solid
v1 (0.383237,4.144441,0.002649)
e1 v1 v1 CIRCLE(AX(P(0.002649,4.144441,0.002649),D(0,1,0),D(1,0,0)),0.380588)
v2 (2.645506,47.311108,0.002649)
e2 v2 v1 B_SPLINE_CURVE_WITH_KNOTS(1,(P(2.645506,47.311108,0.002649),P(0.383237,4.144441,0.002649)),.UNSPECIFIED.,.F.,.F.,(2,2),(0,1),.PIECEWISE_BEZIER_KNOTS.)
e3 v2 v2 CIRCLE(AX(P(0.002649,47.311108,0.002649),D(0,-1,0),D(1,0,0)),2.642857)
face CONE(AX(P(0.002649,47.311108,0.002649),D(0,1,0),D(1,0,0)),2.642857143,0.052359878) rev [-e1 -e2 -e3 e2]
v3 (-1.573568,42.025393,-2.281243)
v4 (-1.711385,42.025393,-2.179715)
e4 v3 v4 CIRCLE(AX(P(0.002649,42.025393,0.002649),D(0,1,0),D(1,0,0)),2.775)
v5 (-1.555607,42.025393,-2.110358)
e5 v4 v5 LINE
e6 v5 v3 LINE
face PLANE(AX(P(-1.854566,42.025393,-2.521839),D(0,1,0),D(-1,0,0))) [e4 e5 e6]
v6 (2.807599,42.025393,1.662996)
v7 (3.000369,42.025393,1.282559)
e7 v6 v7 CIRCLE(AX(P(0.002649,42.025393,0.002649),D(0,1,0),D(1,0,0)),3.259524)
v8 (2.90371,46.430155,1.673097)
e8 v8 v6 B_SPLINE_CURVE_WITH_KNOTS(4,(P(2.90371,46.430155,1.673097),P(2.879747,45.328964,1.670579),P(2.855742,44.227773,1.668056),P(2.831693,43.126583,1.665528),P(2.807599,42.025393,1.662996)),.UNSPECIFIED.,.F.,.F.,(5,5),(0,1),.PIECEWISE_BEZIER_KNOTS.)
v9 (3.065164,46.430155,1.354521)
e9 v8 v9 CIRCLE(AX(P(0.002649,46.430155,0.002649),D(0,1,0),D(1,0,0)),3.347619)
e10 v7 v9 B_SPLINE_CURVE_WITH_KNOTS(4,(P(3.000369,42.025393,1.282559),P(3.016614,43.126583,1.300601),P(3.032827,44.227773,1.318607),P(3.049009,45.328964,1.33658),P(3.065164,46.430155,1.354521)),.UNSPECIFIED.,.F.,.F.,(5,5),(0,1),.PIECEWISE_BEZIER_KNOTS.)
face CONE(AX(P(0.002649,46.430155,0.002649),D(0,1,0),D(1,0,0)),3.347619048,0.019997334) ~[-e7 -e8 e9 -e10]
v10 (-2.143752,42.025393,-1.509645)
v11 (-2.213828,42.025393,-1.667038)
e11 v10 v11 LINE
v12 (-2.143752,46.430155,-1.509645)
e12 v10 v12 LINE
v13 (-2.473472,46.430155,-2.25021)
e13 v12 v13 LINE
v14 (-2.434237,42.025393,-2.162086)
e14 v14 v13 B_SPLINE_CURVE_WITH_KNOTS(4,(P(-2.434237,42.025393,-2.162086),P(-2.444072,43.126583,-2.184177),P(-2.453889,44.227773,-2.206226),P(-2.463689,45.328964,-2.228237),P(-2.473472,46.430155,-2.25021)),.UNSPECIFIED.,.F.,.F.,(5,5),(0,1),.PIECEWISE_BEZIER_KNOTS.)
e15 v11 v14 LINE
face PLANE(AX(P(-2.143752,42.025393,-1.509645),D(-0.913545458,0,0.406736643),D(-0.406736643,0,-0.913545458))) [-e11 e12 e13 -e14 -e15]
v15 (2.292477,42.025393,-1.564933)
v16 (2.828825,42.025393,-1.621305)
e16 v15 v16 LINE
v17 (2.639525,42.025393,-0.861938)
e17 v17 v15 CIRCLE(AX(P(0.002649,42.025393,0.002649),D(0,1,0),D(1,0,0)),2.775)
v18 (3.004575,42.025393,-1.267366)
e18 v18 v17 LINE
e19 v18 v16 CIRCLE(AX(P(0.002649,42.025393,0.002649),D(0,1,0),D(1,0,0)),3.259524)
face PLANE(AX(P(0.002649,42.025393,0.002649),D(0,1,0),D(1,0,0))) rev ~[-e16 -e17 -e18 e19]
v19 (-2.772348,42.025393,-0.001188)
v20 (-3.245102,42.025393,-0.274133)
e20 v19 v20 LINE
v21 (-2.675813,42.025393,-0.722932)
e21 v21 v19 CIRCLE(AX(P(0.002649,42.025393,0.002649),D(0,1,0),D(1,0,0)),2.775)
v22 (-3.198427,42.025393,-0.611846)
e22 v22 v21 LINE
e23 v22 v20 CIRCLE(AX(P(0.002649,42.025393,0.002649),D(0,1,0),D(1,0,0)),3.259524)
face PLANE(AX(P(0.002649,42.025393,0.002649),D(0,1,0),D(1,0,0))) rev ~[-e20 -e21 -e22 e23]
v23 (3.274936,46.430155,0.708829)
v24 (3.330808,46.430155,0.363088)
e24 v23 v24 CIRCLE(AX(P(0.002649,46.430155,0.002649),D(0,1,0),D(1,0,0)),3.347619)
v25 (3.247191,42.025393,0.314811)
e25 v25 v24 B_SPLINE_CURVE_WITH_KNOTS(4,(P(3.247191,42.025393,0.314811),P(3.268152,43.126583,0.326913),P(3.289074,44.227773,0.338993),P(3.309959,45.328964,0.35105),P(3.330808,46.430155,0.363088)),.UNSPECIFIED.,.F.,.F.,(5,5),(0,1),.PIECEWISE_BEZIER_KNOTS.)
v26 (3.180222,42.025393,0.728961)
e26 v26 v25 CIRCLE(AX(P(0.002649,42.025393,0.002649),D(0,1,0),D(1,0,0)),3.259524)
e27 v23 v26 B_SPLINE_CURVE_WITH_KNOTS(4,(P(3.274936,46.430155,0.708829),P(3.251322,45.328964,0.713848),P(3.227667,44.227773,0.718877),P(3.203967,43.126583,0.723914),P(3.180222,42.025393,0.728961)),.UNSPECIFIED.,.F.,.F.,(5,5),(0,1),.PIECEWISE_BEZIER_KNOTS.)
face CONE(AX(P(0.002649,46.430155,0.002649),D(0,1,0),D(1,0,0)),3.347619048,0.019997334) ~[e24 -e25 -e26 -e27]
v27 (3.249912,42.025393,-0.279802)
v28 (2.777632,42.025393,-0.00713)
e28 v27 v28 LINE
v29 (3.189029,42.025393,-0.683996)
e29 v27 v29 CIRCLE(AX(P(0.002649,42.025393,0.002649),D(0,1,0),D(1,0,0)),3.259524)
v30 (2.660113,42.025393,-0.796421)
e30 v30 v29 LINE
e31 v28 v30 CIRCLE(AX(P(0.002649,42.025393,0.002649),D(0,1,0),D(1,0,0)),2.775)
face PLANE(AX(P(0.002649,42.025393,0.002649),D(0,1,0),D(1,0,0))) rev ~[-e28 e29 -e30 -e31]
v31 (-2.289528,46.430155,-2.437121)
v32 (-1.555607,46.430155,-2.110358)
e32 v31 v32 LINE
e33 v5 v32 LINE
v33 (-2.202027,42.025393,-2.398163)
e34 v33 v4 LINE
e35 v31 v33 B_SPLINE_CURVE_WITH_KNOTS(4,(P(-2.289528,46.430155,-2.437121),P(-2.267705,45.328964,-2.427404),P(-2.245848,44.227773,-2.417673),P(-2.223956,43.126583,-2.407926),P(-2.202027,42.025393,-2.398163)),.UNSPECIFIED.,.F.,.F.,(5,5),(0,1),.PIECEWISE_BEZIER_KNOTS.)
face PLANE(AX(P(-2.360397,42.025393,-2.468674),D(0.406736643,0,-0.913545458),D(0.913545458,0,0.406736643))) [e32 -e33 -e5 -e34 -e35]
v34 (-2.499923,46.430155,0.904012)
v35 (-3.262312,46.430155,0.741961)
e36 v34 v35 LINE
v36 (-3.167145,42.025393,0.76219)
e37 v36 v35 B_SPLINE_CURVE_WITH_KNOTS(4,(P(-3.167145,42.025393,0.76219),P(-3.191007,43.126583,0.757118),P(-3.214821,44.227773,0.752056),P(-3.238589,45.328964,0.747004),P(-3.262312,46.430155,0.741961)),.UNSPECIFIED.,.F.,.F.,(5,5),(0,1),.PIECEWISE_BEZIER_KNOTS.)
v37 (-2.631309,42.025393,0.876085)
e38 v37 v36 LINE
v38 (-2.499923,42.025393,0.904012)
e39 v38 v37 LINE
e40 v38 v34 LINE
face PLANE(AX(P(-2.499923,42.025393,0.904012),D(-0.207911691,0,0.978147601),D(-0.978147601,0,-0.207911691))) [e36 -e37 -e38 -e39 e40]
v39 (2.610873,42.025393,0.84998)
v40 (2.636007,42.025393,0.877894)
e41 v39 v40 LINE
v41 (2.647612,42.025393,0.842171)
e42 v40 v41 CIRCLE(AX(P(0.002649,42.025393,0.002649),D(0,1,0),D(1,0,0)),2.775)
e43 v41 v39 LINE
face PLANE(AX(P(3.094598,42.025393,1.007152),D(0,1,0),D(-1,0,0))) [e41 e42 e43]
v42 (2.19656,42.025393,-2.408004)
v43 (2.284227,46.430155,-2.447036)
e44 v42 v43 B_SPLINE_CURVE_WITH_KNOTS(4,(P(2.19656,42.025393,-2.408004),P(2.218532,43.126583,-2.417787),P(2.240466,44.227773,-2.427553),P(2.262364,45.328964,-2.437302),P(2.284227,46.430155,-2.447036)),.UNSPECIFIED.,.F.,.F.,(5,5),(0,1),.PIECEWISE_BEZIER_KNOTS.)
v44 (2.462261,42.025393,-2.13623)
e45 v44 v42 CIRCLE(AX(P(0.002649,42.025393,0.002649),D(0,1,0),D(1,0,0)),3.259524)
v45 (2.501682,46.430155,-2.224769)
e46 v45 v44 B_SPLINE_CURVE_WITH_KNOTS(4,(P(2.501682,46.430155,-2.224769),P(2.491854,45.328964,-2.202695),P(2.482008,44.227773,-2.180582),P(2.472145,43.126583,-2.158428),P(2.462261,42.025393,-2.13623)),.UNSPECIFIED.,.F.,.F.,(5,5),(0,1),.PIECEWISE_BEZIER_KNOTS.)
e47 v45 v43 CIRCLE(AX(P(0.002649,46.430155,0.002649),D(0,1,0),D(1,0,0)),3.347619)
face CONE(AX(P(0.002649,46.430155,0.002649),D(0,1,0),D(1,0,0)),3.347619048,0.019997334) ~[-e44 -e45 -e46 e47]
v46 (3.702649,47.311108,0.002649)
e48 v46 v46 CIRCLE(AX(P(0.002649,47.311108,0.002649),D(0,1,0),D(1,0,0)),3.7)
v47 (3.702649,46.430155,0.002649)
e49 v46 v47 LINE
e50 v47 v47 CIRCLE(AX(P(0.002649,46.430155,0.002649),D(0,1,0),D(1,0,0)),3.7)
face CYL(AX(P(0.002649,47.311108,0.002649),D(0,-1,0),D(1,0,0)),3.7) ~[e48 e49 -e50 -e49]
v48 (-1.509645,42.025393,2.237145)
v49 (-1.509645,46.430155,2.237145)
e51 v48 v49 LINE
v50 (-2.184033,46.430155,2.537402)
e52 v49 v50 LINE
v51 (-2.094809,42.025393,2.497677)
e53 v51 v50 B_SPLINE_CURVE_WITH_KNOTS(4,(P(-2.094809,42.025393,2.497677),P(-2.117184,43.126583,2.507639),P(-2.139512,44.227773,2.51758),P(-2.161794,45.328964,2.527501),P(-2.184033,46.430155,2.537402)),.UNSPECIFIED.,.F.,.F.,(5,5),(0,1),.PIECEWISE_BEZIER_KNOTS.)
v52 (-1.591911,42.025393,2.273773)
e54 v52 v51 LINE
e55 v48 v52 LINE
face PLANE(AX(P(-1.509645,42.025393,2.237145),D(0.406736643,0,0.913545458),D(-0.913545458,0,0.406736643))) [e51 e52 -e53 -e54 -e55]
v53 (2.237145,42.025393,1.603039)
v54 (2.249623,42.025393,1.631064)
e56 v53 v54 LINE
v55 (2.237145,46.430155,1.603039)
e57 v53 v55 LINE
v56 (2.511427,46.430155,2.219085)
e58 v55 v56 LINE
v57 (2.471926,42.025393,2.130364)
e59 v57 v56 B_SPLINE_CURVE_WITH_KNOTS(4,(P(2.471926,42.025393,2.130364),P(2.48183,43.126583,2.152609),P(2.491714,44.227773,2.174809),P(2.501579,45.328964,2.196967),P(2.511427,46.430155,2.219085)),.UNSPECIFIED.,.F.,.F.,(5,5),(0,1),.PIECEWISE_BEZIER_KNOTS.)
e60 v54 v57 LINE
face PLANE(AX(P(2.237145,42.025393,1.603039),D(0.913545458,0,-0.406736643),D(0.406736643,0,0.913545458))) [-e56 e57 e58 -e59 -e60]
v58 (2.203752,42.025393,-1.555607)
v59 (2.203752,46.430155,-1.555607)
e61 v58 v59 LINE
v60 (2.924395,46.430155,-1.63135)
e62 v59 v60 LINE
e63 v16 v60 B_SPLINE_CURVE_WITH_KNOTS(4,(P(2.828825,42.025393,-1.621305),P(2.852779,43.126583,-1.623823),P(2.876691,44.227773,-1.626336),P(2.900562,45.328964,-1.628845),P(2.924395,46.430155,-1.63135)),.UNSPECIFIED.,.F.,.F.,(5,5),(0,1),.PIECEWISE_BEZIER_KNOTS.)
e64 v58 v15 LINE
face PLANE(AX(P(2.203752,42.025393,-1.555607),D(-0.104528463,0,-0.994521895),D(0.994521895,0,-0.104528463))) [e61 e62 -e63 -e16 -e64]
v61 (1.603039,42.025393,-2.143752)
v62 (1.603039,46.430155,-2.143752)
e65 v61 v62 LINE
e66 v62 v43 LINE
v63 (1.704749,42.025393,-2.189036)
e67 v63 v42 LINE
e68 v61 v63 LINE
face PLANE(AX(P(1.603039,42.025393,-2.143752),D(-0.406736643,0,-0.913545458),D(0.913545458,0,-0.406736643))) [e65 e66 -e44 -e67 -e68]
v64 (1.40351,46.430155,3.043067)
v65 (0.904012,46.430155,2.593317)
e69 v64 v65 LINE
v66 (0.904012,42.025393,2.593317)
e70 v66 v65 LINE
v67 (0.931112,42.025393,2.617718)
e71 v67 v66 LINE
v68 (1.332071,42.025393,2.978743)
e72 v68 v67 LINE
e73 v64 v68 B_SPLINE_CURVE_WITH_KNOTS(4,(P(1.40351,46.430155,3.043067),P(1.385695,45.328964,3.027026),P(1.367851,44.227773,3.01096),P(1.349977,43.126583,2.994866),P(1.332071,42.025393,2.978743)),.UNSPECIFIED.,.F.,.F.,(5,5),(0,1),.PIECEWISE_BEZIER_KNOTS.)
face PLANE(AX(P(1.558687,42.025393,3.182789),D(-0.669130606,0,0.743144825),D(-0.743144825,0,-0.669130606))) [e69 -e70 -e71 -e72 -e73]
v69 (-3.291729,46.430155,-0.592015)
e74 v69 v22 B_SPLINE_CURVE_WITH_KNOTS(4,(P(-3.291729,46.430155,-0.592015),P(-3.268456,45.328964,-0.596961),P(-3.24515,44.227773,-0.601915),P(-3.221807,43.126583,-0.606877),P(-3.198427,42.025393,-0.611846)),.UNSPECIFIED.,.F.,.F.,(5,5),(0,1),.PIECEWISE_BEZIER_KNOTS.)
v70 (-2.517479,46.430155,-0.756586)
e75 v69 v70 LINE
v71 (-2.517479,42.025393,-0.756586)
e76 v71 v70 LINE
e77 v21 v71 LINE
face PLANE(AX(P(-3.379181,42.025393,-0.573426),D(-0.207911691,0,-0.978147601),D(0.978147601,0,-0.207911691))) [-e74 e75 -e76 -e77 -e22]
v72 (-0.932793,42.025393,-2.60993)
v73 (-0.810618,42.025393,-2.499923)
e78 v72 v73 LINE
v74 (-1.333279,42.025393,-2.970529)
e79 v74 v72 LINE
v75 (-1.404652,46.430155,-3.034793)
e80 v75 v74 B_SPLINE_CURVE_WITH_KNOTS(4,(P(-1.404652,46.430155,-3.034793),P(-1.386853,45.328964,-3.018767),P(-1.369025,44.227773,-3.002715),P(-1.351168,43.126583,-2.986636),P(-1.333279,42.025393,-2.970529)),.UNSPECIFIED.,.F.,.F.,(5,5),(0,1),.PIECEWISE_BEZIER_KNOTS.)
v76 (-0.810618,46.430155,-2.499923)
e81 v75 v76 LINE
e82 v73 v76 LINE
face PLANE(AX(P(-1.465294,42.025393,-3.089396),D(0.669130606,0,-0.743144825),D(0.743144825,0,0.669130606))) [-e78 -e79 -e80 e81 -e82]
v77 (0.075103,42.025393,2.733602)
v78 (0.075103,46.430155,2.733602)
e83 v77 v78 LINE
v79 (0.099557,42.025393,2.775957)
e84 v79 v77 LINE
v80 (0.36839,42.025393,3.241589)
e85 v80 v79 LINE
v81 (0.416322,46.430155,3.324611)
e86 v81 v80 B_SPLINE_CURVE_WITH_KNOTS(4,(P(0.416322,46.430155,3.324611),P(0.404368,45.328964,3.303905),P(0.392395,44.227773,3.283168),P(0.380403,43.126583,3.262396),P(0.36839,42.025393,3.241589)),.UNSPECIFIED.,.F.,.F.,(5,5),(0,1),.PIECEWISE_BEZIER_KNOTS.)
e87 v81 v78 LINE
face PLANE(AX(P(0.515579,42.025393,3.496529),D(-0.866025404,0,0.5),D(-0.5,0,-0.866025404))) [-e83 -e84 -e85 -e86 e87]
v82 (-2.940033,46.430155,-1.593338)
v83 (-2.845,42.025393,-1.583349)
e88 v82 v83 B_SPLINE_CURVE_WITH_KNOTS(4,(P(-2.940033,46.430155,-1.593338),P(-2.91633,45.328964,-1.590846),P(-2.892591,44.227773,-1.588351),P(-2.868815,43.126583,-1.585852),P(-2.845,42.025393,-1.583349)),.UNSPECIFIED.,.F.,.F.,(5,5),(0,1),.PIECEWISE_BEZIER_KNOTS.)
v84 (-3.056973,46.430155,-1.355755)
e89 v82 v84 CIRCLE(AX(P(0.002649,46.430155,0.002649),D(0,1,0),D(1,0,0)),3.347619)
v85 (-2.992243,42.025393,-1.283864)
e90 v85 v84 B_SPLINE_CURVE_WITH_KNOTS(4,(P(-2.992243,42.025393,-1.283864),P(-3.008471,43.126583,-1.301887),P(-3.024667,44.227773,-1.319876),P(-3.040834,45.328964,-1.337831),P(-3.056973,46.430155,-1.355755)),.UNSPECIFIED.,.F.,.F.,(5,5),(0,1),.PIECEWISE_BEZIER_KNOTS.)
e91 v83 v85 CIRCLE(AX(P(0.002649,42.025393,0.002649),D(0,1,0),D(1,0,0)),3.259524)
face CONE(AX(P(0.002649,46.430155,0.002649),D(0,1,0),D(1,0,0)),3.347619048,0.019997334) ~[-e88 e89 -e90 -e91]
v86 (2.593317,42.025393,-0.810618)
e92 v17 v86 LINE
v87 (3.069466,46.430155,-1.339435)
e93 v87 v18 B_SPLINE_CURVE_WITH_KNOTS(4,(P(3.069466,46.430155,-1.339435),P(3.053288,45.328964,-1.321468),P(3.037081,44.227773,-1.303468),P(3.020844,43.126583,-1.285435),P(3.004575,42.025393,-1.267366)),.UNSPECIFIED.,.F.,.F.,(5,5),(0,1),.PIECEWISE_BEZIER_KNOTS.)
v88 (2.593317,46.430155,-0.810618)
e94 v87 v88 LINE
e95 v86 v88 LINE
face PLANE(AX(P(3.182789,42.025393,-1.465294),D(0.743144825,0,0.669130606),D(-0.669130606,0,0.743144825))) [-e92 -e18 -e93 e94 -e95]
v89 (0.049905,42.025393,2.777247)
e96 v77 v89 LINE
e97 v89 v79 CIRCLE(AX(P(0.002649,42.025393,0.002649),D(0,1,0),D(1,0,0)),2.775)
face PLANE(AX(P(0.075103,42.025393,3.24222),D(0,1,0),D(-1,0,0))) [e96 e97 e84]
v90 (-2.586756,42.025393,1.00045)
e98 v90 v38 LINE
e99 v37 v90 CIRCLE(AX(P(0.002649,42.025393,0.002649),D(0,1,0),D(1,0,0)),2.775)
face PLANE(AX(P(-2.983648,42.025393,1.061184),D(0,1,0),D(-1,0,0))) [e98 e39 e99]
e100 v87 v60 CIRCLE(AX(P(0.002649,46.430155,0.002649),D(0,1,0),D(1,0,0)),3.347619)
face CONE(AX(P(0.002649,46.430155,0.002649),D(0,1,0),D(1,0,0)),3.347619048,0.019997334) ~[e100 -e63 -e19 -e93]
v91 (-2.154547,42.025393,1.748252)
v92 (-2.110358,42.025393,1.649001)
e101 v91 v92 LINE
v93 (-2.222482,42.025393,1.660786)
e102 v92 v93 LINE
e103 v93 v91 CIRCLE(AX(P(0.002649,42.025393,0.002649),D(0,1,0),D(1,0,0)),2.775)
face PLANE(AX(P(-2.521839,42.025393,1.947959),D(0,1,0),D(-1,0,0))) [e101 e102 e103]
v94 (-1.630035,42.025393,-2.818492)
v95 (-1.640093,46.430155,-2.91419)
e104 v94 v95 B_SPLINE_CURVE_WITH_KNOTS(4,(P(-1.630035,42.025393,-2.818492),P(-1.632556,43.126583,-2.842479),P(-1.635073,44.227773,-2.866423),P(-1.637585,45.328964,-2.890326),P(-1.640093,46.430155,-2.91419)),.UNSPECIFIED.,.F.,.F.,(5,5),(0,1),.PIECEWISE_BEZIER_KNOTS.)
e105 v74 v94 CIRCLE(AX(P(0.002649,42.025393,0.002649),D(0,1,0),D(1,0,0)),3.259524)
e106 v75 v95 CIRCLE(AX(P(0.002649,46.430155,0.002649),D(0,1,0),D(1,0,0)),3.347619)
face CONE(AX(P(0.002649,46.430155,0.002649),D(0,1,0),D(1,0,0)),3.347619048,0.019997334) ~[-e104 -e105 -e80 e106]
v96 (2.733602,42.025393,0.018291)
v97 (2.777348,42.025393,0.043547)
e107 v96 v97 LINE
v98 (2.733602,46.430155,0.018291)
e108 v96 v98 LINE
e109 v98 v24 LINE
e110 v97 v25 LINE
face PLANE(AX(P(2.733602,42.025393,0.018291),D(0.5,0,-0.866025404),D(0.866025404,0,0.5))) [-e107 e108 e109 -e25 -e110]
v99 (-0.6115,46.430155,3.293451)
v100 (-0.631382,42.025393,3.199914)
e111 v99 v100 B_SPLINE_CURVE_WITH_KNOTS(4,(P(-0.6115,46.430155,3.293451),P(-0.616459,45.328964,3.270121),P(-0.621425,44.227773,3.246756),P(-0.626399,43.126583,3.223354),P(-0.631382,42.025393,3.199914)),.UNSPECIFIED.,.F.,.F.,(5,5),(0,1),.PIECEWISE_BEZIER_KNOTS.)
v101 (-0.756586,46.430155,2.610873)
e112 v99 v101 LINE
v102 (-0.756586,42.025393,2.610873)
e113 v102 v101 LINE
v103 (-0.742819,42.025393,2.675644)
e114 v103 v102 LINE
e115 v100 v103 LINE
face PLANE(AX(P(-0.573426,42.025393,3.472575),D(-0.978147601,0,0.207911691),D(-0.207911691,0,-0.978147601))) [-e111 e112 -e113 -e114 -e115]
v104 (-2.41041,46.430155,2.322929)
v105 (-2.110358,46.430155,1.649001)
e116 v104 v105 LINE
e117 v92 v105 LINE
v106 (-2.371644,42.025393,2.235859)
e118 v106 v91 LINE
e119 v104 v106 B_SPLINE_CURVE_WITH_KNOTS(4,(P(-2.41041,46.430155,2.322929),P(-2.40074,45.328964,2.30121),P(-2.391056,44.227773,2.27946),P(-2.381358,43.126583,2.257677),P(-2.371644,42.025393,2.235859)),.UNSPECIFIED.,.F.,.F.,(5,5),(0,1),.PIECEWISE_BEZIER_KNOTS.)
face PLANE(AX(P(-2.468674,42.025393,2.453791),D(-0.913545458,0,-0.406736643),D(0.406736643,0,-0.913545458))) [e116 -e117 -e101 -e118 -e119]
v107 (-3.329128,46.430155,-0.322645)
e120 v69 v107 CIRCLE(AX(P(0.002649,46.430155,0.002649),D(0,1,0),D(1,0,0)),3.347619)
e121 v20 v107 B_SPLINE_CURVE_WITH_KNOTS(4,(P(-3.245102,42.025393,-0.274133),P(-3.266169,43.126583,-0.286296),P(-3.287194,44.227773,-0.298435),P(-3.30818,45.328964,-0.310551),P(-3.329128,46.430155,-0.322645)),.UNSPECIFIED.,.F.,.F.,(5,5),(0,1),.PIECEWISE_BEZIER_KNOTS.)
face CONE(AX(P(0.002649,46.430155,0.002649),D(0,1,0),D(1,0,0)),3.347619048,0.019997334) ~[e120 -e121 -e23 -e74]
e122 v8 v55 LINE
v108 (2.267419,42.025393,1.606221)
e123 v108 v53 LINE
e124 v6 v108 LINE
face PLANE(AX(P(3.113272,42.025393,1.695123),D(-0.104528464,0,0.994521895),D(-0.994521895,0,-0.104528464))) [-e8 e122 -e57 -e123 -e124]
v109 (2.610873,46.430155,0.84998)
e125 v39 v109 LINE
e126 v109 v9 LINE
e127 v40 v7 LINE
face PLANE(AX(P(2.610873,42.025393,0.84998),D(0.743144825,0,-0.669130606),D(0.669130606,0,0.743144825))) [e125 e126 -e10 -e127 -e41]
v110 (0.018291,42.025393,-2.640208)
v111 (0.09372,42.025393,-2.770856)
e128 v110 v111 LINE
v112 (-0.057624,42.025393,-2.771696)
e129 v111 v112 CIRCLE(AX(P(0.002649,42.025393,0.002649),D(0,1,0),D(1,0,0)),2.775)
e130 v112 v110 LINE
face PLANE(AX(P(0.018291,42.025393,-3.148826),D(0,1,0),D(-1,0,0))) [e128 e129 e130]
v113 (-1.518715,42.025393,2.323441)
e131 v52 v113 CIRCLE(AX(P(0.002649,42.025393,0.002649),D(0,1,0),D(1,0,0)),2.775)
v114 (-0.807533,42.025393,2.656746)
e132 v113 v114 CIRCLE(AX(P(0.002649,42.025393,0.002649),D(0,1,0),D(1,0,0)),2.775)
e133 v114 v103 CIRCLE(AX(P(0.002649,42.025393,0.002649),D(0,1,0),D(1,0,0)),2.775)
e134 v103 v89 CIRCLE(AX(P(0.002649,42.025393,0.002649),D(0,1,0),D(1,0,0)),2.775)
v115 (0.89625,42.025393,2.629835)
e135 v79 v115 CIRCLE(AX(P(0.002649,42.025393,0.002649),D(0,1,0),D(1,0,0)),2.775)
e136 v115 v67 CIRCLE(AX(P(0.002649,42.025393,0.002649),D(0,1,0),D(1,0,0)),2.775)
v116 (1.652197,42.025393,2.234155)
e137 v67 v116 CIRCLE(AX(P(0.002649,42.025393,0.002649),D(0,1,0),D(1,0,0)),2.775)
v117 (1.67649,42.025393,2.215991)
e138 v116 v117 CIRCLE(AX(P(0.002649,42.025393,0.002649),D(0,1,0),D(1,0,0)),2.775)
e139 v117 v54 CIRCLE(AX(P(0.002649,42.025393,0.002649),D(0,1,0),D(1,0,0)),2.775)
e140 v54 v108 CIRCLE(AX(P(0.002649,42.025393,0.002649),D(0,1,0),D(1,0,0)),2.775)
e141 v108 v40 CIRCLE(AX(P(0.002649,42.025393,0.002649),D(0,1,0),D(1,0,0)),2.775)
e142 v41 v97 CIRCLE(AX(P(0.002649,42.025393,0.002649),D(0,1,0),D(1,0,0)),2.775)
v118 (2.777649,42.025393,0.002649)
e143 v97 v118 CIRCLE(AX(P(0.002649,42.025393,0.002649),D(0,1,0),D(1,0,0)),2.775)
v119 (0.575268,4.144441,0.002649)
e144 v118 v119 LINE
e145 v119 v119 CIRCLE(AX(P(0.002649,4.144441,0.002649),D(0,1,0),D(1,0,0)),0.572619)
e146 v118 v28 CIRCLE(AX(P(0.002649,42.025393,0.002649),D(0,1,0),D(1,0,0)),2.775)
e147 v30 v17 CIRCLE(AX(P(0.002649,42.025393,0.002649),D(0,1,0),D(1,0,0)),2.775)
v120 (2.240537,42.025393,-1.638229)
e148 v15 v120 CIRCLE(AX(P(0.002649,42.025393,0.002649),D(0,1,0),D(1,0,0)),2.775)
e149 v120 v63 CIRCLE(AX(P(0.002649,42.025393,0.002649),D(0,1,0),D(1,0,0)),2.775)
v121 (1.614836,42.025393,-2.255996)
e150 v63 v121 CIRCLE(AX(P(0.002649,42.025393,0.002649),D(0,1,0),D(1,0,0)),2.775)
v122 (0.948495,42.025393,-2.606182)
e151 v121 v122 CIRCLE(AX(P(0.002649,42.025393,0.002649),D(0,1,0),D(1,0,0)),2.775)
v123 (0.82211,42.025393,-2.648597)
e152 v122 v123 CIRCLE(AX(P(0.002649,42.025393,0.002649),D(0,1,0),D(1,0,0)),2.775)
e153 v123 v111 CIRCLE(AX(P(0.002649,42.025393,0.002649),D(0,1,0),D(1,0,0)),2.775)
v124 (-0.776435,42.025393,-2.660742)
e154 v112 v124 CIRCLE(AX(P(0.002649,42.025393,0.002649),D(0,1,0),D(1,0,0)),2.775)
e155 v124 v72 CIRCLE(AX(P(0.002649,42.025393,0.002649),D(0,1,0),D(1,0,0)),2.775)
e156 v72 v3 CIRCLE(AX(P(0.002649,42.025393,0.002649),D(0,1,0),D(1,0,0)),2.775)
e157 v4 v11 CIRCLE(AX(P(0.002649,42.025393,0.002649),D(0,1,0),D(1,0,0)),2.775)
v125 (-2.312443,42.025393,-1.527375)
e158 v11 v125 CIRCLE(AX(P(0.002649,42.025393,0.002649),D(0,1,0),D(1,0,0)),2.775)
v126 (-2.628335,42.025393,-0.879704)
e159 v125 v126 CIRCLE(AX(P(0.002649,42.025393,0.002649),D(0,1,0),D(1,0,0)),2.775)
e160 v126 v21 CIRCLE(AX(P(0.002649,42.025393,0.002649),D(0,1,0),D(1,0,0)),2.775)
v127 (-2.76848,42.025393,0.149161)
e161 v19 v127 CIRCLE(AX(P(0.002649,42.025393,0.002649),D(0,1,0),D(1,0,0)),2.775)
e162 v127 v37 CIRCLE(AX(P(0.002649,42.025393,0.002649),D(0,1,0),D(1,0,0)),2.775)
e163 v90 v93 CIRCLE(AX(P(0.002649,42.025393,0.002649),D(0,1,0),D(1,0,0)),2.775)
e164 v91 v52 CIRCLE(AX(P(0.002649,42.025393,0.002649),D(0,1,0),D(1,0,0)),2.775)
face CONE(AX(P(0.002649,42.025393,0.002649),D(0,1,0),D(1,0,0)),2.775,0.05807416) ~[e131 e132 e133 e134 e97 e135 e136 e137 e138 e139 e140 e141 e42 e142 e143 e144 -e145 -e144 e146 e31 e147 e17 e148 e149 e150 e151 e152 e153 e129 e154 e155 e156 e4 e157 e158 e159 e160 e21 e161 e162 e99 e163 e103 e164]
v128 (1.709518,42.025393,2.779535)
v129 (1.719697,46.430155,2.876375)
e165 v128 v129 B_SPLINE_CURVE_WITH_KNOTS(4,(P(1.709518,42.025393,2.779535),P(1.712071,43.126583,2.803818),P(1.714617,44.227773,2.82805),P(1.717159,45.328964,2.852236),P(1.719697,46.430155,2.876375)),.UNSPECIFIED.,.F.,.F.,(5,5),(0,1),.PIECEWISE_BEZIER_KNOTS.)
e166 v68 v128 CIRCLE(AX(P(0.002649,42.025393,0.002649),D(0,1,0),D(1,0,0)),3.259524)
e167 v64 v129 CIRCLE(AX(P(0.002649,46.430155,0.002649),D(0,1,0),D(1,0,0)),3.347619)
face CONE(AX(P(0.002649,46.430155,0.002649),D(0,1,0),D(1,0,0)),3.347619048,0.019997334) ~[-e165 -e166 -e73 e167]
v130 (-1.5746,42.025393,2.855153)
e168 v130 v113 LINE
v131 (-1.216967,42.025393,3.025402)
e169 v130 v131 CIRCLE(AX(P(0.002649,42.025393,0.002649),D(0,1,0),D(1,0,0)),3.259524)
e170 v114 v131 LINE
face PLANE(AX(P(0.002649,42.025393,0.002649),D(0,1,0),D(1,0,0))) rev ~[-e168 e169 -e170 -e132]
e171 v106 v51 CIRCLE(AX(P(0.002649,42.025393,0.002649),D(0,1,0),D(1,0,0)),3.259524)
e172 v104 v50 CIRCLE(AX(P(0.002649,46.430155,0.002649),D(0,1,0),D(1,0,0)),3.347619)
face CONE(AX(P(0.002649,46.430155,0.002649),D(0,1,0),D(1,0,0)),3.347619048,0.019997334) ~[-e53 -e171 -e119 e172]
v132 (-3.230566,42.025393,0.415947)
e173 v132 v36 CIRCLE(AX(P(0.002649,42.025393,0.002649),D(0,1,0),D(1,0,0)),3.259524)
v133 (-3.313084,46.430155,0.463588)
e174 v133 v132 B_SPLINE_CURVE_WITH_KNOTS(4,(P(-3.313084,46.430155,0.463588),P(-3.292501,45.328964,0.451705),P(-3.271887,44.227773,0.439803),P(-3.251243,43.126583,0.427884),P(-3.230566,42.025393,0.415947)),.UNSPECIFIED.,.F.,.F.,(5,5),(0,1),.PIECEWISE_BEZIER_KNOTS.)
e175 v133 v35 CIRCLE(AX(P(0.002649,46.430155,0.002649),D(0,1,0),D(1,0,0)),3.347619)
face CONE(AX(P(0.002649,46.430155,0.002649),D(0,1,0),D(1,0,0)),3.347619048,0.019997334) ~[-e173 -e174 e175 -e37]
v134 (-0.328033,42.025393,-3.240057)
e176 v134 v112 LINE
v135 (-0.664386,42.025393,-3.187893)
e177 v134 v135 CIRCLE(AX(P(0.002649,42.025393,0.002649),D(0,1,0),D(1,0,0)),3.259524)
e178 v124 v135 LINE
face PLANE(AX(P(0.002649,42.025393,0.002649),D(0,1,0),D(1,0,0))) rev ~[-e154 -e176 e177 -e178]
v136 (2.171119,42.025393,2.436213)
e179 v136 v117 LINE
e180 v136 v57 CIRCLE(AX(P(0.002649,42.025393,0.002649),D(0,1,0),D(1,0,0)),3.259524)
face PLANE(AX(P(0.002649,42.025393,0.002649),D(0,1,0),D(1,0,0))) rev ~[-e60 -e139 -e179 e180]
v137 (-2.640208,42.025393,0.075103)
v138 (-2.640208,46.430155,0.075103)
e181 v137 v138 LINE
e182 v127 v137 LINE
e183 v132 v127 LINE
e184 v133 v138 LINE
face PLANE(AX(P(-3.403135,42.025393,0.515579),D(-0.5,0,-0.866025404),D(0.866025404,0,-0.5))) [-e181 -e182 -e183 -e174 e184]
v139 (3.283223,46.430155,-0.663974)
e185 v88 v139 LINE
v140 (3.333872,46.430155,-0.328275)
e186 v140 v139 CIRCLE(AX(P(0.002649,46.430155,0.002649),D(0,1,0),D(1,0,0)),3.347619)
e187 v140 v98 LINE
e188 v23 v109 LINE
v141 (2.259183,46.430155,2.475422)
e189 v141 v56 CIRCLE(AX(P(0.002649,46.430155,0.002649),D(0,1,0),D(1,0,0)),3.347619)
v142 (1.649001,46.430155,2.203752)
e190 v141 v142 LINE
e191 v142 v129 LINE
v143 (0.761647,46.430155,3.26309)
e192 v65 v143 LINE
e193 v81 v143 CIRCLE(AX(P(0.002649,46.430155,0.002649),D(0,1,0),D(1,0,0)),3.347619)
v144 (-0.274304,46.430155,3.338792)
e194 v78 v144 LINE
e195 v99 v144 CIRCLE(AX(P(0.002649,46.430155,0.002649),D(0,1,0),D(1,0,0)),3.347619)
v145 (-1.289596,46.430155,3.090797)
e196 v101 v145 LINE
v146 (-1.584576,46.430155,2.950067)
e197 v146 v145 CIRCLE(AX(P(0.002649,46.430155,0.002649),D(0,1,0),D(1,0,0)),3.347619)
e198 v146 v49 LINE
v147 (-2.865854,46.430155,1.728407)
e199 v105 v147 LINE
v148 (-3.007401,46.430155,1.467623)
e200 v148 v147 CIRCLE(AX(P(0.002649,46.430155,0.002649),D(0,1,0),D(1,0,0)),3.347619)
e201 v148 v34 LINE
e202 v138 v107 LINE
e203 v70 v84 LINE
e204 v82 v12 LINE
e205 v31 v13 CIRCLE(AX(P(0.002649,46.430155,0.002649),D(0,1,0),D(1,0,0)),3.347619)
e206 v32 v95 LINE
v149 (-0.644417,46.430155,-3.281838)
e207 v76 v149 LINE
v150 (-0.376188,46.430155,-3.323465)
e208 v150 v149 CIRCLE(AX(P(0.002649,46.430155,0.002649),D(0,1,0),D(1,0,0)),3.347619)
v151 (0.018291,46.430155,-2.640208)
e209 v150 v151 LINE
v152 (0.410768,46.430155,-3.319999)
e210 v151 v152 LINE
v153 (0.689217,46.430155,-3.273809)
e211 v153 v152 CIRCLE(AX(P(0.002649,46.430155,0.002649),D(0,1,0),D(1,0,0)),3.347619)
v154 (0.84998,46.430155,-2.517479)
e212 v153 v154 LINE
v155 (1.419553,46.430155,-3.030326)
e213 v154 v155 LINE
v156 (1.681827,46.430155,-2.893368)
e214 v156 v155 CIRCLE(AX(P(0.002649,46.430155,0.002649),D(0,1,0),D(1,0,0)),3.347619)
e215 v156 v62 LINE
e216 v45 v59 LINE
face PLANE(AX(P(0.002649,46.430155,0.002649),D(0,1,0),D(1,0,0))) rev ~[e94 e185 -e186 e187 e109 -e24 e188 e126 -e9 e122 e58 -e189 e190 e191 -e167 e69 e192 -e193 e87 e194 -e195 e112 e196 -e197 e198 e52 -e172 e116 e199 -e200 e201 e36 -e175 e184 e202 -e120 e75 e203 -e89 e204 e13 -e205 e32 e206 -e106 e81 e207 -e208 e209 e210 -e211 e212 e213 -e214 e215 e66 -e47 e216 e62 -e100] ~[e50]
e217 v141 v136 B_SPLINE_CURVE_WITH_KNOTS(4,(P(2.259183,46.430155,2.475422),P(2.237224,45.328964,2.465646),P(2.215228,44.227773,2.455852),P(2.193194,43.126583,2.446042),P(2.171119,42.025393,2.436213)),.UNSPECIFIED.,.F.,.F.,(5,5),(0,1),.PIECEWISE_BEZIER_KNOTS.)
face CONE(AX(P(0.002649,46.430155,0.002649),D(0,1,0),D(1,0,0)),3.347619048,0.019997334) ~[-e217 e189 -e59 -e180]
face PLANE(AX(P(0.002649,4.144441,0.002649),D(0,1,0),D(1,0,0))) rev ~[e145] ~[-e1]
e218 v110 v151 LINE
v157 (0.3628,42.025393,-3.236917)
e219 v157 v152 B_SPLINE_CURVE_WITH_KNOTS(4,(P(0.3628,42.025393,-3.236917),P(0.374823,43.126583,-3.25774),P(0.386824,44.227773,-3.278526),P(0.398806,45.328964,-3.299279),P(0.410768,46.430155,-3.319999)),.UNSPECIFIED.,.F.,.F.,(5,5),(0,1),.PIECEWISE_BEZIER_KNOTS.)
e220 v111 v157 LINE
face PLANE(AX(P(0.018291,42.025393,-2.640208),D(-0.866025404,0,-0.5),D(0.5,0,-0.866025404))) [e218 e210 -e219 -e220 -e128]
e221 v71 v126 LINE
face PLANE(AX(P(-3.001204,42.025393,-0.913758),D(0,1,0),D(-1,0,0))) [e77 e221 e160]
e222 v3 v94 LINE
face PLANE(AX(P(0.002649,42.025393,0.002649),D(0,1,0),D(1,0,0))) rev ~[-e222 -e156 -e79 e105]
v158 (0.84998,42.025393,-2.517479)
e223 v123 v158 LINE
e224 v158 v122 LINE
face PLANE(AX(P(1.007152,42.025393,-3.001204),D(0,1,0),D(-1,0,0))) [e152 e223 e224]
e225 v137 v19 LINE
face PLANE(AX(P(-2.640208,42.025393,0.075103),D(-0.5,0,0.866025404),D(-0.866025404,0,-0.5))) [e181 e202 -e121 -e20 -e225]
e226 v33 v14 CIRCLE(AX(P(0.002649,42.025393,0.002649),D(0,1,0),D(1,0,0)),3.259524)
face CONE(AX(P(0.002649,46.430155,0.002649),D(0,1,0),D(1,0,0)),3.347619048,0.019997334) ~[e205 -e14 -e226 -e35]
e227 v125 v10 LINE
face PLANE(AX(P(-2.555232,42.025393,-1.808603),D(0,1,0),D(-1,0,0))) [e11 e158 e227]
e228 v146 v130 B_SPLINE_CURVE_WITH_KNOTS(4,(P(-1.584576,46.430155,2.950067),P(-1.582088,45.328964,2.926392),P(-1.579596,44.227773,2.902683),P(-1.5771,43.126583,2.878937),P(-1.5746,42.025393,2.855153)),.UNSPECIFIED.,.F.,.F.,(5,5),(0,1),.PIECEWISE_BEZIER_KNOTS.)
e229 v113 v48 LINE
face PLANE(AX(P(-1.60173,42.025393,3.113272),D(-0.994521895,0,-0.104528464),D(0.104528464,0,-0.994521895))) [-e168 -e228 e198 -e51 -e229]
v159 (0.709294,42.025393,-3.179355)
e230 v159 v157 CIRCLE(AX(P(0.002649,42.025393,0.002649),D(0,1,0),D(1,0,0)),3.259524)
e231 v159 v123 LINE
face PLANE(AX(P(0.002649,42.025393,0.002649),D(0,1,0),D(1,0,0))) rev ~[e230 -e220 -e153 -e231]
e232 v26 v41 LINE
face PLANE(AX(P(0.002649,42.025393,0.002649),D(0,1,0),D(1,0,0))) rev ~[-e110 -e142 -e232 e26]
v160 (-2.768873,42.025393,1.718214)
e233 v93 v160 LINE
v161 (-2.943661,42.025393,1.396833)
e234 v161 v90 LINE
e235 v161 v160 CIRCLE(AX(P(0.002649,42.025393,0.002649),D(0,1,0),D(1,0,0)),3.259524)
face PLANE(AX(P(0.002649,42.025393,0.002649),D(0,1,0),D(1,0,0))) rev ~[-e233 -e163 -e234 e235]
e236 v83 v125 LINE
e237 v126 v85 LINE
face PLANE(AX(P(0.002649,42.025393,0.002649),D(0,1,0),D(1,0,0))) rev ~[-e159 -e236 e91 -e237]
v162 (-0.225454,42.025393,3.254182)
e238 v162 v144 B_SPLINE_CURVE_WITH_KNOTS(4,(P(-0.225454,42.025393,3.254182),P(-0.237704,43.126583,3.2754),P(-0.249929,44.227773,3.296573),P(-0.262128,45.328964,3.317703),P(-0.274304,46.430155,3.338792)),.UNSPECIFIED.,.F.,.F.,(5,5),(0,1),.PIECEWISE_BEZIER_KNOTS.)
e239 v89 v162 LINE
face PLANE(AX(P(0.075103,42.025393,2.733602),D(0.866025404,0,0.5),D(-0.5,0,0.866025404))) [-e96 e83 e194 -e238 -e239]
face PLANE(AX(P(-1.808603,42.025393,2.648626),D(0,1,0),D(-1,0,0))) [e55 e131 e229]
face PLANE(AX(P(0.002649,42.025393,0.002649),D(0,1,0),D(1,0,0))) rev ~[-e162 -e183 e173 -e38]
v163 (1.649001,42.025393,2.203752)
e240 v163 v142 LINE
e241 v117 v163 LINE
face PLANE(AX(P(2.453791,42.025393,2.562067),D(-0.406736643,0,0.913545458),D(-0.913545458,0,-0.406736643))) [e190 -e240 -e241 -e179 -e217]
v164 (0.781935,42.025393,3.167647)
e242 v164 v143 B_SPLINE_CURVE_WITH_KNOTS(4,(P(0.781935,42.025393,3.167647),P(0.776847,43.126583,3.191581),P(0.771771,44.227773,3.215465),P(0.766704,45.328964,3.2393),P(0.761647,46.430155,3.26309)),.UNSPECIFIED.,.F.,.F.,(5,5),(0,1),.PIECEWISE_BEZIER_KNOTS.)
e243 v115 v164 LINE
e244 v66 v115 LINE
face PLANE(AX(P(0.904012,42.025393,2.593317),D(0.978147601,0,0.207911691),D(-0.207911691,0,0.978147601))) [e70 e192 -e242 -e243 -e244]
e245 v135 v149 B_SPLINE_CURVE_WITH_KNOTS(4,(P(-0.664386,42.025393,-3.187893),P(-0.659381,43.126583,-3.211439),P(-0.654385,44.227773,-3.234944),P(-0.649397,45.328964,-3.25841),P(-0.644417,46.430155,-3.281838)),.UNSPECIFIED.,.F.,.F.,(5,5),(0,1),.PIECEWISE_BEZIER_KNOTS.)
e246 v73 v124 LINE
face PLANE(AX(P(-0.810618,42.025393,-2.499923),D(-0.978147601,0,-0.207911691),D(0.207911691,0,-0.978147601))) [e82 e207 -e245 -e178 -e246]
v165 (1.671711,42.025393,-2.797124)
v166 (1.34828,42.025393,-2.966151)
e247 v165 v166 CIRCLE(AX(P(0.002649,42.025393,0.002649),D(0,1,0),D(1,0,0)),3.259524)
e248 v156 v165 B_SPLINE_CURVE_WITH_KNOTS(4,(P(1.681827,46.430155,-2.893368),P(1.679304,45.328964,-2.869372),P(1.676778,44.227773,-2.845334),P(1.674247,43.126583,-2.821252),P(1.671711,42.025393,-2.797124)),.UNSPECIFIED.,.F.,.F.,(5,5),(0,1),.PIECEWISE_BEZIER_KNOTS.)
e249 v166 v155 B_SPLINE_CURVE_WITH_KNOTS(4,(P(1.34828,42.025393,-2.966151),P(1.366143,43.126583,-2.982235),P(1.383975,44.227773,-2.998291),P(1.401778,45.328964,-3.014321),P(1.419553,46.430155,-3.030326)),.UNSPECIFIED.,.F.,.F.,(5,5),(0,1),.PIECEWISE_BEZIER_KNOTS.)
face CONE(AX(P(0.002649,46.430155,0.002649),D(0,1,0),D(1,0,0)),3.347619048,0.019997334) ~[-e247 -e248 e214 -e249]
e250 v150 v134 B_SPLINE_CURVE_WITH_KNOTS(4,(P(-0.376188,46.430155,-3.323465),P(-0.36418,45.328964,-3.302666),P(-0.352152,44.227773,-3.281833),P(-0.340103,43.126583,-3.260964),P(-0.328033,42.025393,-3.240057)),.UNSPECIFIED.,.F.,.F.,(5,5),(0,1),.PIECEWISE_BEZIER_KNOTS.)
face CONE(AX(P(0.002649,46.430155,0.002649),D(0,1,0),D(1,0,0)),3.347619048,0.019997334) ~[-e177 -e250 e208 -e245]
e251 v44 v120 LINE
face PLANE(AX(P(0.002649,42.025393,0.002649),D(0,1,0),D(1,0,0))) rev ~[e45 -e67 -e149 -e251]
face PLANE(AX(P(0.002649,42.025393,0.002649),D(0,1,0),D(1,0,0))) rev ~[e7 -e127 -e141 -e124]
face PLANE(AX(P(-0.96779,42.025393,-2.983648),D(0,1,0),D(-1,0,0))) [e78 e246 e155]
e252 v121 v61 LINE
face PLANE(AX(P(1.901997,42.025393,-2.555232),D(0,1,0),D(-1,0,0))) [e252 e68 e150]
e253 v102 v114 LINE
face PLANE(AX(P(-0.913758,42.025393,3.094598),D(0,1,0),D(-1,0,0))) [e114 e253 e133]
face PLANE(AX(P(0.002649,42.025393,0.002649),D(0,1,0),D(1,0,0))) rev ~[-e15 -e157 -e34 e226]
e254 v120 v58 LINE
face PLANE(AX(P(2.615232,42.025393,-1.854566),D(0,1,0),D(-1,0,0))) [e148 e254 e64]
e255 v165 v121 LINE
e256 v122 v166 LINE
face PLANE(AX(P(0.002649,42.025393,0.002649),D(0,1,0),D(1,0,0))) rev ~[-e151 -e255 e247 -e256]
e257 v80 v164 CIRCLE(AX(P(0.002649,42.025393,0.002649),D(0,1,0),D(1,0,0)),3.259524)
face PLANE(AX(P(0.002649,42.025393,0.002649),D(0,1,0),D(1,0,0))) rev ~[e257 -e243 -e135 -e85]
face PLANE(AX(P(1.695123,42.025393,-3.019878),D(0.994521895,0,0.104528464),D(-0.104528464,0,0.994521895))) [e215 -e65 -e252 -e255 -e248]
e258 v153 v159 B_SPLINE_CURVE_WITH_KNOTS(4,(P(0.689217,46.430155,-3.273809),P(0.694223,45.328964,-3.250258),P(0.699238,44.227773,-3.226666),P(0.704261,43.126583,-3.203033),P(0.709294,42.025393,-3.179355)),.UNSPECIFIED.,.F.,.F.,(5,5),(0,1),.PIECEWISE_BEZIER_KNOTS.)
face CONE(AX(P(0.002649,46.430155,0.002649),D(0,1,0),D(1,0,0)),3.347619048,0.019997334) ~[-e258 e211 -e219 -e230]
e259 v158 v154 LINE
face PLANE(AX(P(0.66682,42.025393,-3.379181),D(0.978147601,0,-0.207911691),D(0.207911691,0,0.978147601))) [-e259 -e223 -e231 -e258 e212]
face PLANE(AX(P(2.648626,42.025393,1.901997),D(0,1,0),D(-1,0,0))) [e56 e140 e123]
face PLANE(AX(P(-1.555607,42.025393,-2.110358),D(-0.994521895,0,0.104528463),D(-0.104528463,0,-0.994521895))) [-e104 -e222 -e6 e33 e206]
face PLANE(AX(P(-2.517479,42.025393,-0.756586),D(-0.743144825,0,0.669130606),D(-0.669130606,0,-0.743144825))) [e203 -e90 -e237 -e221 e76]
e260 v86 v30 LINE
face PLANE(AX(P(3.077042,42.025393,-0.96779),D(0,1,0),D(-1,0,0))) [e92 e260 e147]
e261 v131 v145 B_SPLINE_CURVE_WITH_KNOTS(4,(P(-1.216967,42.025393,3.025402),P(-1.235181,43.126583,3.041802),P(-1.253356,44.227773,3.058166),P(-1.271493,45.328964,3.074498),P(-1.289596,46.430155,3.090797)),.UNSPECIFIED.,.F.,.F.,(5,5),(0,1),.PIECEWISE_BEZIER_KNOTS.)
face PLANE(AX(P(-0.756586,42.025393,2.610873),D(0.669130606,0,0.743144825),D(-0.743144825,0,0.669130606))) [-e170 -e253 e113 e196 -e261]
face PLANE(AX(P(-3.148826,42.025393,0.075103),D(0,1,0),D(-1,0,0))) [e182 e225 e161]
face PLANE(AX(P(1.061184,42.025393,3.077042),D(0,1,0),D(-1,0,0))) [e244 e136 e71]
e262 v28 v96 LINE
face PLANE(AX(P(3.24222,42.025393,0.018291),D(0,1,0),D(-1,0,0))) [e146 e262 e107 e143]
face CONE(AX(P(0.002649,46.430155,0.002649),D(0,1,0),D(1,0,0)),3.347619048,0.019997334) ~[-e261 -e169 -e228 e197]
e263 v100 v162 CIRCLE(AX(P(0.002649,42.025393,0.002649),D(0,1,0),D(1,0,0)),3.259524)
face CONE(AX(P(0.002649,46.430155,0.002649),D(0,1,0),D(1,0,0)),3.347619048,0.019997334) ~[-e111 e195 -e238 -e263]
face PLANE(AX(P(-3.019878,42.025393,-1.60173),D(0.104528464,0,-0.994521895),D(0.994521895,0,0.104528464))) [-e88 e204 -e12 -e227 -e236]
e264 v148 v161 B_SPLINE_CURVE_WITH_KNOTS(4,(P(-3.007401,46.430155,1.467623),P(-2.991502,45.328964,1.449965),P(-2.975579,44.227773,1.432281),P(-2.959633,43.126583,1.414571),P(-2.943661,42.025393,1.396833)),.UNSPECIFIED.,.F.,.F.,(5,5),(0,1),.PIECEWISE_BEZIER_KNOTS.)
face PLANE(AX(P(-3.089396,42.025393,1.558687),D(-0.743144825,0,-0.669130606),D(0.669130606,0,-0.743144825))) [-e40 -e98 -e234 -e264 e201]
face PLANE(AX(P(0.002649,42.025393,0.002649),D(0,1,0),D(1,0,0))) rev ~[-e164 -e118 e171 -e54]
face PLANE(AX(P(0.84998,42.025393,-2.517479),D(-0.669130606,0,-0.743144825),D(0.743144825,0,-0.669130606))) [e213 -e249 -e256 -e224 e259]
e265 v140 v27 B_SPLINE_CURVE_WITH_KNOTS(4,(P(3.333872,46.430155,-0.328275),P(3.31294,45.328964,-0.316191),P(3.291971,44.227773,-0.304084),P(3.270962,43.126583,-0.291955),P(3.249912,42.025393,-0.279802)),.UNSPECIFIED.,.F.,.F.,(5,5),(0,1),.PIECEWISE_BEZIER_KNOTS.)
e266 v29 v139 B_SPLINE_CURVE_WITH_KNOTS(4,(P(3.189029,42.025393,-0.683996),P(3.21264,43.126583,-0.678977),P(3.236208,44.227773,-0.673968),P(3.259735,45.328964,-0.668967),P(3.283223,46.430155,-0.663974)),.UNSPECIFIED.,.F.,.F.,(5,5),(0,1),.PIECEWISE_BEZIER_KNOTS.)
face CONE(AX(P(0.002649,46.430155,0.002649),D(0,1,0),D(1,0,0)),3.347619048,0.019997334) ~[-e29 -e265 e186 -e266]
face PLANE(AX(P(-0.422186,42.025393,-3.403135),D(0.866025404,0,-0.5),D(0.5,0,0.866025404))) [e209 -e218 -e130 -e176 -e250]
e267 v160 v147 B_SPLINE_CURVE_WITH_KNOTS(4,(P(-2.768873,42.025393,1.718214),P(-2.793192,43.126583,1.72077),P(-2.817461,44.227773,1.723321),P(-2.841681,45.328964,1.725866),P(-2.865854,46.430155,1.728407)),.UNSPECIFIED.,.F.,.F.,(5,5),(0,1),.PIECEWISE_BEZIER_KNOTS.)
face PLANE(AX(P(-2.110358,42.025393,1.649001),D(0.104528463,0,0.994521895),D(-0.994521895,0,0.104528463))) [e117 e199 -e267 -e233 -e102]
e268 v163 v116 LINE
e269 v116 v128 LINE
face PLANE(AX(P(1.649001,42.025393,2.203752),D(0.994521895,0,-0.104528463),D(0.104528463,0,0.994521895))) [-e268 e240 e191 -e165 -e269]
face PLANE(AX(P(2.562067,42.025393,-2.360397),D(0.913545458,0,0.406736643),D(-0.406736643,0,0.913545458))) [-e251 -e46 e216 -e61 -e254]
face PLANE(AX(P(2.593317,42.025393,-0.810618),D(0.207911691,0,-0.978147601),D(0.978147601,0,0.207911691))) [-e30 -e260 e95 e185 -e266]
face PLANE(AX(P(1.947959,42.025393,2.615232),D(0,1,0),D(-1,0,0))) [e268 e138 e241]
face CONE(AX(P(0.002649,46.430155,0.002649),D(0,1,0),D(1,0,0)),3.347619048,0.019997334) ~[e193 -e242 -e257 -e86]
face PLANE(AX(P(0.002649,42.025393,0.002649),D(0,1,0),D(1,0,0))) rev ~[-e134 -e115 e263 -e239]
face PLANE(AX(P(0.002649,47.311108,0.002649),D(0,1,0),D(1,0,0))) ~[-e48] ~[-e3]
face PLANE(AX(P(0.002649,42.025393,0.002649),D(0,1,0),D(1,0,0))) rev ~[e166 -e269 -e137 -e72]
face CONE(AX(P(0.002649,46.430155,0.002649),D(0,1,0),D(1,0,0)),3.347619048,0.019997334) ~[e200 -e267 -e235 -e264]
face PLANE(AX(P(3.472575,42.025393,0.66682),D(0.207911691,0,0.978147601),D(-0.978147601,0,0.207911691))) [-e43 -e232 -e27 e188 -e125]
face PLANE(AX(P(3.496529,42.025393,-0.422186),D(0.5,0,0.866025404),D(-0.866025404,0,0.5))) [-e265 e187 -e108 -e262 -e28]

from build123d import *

# Parameters (mm, degrees)
IZIM2_R               = 3
KES_EKSTR_ZYON1_DEPTH = 49
KES_EKSTR_ZYON1_TAPER = 3
KES_EKSTR_ZYON4_DEPTH = 5
SCALE1_SCALE          = 0.880952381


with BuildPart() as part:
    # Çizim1 → Döndür1 (revolve)
    with BuildSketch(Plane.XY):
        Polygon((0, 0), (0, 49), (4.2, 49), (4.2, 48), (3.8, 48), (3.7, 43), (3.15, 43), (0.65, 0), align=None)
    revolve(axis=Axis((0, 0, 0), (0, 1, 0)))

    # Çizim2 → Kes-Ekstrüzyon1 (cut)
    with BuildSketch(Plane(origin=(0, 49, 0), x_dir=(1, 0, 0), z_dir=(0, 1, 0))):
        Circle(IZIM2_R)
    extrude(amount=-KES_EKSTR_ZYON1_DEPTH, taper=KES_EKSTR_ZYON1_TAPER, mode=Mode.SUBTRACT)

    # Çizim3 → Kes-Ekstrüzyon4 (cut)
    with BuildSketch(Plane.XZ.offset(-43)):
        Polygon((0.08224501, 3.1), (-0.41775499, 3.966025404), (0.58224501, 3.966025404), align=None)
        Polygon((0.815256969, 3.918905719), (1.766313485, 3.609888725), (1.02316866, 2.940758119), align=None)
        Polygon((1.973360244, 3.493070587), (2.782377238, 2.905285335), (1.868831781, 2.498548692), align=None)
        Polygon((2.943191617, 2.730203716), (3.53097687, 1.921186722), (2.536454974, 1.816658258), align=None)
        Polygon((3.629817237, 1.704979831), (3.938834232, 0.753923315), (2.960686631, 0.961835006), align=None)
        Polygon((3.966025404, 0.51775499), (3.966025404, -0.48224501), (3.1, 0.01775499), align=None)
        Polygon((3.918905719, -0.715256969), (3.609888725, -1.666313485), (2.940758119, -0.92316866), align=None)
        Polygon((3.493070587, -1.873360244), (2.905285335, -2.682377238), (2.498548692, -1.768831781), align=None)
        Polygon((2.730203716, -2.843191617), (1.921186722, -3.43097687), (1.816658258, -2.436454974), align=None)
        Polygon((1.704979831, -3.529817237), (0.753923315, -3.838834232), (0.961835006, -2.860686631), align=None)
        Polygon((0.51775499, -3.866025404), (-0.48224501, -3.866025404), (0.01775499, -3), align=None)
        Polygon((-0.715256969, -3.818905719), (-1.666313485, -3.509888725), (-0.92316866, -2.840758119), align=None)
        Polygon((-1.873360244, -3.393070587), (-2.682377238, -2.805285335), (-1.768831781, -2.398548692), align=None)
        Polygon((-2.843191617, -2.630203716), (-3.43097687, -1.821186722), (-2.436454974, -1.716658258), align=None)
        Polygon((-3.529817237, -1.604979831), (-3.838834232, -0.653923315), (-2.860686631, -0.861835006), align=None)
        Polygon((-3.866025404, -0.41775499), (-3.866025404, 0.58224501), (-3, 0.08224501), align=None)
        Polygon((-3.818905719, 0.815256969), (-3.509888725, 1.766313485), (-2.840758119, 1.02316866), align=None)
        Polygon((-3.393070587, 1.973360244), (-2.805285335, 2.782377238), (-2.398548692, 1.868831781), align=None)
        Polygon((-2.630203716, 2.943191617), (-1.821186722, 3.53097687), (-1.716658258, 2.536454974), align=None)
        Polygon((-1.604979831, 3.629817237), (-0.653923315, 3.938834232), (-0.861835006, 2.960686631), align=None)
    extrude(amount=-KES_EKSTR_ZYON4_DEPTH, mode=Mode.SUBTRACT)


with BuildPart() as part_1:
    # Scale1: scaled about (0.02225364, 34.813303108, 0.02225364)
    add(part.part.scale(SCALE1_SCALE).moved(Location((0.002649243, 4.144440846, 0.002649243))))


solid = part_1.part
